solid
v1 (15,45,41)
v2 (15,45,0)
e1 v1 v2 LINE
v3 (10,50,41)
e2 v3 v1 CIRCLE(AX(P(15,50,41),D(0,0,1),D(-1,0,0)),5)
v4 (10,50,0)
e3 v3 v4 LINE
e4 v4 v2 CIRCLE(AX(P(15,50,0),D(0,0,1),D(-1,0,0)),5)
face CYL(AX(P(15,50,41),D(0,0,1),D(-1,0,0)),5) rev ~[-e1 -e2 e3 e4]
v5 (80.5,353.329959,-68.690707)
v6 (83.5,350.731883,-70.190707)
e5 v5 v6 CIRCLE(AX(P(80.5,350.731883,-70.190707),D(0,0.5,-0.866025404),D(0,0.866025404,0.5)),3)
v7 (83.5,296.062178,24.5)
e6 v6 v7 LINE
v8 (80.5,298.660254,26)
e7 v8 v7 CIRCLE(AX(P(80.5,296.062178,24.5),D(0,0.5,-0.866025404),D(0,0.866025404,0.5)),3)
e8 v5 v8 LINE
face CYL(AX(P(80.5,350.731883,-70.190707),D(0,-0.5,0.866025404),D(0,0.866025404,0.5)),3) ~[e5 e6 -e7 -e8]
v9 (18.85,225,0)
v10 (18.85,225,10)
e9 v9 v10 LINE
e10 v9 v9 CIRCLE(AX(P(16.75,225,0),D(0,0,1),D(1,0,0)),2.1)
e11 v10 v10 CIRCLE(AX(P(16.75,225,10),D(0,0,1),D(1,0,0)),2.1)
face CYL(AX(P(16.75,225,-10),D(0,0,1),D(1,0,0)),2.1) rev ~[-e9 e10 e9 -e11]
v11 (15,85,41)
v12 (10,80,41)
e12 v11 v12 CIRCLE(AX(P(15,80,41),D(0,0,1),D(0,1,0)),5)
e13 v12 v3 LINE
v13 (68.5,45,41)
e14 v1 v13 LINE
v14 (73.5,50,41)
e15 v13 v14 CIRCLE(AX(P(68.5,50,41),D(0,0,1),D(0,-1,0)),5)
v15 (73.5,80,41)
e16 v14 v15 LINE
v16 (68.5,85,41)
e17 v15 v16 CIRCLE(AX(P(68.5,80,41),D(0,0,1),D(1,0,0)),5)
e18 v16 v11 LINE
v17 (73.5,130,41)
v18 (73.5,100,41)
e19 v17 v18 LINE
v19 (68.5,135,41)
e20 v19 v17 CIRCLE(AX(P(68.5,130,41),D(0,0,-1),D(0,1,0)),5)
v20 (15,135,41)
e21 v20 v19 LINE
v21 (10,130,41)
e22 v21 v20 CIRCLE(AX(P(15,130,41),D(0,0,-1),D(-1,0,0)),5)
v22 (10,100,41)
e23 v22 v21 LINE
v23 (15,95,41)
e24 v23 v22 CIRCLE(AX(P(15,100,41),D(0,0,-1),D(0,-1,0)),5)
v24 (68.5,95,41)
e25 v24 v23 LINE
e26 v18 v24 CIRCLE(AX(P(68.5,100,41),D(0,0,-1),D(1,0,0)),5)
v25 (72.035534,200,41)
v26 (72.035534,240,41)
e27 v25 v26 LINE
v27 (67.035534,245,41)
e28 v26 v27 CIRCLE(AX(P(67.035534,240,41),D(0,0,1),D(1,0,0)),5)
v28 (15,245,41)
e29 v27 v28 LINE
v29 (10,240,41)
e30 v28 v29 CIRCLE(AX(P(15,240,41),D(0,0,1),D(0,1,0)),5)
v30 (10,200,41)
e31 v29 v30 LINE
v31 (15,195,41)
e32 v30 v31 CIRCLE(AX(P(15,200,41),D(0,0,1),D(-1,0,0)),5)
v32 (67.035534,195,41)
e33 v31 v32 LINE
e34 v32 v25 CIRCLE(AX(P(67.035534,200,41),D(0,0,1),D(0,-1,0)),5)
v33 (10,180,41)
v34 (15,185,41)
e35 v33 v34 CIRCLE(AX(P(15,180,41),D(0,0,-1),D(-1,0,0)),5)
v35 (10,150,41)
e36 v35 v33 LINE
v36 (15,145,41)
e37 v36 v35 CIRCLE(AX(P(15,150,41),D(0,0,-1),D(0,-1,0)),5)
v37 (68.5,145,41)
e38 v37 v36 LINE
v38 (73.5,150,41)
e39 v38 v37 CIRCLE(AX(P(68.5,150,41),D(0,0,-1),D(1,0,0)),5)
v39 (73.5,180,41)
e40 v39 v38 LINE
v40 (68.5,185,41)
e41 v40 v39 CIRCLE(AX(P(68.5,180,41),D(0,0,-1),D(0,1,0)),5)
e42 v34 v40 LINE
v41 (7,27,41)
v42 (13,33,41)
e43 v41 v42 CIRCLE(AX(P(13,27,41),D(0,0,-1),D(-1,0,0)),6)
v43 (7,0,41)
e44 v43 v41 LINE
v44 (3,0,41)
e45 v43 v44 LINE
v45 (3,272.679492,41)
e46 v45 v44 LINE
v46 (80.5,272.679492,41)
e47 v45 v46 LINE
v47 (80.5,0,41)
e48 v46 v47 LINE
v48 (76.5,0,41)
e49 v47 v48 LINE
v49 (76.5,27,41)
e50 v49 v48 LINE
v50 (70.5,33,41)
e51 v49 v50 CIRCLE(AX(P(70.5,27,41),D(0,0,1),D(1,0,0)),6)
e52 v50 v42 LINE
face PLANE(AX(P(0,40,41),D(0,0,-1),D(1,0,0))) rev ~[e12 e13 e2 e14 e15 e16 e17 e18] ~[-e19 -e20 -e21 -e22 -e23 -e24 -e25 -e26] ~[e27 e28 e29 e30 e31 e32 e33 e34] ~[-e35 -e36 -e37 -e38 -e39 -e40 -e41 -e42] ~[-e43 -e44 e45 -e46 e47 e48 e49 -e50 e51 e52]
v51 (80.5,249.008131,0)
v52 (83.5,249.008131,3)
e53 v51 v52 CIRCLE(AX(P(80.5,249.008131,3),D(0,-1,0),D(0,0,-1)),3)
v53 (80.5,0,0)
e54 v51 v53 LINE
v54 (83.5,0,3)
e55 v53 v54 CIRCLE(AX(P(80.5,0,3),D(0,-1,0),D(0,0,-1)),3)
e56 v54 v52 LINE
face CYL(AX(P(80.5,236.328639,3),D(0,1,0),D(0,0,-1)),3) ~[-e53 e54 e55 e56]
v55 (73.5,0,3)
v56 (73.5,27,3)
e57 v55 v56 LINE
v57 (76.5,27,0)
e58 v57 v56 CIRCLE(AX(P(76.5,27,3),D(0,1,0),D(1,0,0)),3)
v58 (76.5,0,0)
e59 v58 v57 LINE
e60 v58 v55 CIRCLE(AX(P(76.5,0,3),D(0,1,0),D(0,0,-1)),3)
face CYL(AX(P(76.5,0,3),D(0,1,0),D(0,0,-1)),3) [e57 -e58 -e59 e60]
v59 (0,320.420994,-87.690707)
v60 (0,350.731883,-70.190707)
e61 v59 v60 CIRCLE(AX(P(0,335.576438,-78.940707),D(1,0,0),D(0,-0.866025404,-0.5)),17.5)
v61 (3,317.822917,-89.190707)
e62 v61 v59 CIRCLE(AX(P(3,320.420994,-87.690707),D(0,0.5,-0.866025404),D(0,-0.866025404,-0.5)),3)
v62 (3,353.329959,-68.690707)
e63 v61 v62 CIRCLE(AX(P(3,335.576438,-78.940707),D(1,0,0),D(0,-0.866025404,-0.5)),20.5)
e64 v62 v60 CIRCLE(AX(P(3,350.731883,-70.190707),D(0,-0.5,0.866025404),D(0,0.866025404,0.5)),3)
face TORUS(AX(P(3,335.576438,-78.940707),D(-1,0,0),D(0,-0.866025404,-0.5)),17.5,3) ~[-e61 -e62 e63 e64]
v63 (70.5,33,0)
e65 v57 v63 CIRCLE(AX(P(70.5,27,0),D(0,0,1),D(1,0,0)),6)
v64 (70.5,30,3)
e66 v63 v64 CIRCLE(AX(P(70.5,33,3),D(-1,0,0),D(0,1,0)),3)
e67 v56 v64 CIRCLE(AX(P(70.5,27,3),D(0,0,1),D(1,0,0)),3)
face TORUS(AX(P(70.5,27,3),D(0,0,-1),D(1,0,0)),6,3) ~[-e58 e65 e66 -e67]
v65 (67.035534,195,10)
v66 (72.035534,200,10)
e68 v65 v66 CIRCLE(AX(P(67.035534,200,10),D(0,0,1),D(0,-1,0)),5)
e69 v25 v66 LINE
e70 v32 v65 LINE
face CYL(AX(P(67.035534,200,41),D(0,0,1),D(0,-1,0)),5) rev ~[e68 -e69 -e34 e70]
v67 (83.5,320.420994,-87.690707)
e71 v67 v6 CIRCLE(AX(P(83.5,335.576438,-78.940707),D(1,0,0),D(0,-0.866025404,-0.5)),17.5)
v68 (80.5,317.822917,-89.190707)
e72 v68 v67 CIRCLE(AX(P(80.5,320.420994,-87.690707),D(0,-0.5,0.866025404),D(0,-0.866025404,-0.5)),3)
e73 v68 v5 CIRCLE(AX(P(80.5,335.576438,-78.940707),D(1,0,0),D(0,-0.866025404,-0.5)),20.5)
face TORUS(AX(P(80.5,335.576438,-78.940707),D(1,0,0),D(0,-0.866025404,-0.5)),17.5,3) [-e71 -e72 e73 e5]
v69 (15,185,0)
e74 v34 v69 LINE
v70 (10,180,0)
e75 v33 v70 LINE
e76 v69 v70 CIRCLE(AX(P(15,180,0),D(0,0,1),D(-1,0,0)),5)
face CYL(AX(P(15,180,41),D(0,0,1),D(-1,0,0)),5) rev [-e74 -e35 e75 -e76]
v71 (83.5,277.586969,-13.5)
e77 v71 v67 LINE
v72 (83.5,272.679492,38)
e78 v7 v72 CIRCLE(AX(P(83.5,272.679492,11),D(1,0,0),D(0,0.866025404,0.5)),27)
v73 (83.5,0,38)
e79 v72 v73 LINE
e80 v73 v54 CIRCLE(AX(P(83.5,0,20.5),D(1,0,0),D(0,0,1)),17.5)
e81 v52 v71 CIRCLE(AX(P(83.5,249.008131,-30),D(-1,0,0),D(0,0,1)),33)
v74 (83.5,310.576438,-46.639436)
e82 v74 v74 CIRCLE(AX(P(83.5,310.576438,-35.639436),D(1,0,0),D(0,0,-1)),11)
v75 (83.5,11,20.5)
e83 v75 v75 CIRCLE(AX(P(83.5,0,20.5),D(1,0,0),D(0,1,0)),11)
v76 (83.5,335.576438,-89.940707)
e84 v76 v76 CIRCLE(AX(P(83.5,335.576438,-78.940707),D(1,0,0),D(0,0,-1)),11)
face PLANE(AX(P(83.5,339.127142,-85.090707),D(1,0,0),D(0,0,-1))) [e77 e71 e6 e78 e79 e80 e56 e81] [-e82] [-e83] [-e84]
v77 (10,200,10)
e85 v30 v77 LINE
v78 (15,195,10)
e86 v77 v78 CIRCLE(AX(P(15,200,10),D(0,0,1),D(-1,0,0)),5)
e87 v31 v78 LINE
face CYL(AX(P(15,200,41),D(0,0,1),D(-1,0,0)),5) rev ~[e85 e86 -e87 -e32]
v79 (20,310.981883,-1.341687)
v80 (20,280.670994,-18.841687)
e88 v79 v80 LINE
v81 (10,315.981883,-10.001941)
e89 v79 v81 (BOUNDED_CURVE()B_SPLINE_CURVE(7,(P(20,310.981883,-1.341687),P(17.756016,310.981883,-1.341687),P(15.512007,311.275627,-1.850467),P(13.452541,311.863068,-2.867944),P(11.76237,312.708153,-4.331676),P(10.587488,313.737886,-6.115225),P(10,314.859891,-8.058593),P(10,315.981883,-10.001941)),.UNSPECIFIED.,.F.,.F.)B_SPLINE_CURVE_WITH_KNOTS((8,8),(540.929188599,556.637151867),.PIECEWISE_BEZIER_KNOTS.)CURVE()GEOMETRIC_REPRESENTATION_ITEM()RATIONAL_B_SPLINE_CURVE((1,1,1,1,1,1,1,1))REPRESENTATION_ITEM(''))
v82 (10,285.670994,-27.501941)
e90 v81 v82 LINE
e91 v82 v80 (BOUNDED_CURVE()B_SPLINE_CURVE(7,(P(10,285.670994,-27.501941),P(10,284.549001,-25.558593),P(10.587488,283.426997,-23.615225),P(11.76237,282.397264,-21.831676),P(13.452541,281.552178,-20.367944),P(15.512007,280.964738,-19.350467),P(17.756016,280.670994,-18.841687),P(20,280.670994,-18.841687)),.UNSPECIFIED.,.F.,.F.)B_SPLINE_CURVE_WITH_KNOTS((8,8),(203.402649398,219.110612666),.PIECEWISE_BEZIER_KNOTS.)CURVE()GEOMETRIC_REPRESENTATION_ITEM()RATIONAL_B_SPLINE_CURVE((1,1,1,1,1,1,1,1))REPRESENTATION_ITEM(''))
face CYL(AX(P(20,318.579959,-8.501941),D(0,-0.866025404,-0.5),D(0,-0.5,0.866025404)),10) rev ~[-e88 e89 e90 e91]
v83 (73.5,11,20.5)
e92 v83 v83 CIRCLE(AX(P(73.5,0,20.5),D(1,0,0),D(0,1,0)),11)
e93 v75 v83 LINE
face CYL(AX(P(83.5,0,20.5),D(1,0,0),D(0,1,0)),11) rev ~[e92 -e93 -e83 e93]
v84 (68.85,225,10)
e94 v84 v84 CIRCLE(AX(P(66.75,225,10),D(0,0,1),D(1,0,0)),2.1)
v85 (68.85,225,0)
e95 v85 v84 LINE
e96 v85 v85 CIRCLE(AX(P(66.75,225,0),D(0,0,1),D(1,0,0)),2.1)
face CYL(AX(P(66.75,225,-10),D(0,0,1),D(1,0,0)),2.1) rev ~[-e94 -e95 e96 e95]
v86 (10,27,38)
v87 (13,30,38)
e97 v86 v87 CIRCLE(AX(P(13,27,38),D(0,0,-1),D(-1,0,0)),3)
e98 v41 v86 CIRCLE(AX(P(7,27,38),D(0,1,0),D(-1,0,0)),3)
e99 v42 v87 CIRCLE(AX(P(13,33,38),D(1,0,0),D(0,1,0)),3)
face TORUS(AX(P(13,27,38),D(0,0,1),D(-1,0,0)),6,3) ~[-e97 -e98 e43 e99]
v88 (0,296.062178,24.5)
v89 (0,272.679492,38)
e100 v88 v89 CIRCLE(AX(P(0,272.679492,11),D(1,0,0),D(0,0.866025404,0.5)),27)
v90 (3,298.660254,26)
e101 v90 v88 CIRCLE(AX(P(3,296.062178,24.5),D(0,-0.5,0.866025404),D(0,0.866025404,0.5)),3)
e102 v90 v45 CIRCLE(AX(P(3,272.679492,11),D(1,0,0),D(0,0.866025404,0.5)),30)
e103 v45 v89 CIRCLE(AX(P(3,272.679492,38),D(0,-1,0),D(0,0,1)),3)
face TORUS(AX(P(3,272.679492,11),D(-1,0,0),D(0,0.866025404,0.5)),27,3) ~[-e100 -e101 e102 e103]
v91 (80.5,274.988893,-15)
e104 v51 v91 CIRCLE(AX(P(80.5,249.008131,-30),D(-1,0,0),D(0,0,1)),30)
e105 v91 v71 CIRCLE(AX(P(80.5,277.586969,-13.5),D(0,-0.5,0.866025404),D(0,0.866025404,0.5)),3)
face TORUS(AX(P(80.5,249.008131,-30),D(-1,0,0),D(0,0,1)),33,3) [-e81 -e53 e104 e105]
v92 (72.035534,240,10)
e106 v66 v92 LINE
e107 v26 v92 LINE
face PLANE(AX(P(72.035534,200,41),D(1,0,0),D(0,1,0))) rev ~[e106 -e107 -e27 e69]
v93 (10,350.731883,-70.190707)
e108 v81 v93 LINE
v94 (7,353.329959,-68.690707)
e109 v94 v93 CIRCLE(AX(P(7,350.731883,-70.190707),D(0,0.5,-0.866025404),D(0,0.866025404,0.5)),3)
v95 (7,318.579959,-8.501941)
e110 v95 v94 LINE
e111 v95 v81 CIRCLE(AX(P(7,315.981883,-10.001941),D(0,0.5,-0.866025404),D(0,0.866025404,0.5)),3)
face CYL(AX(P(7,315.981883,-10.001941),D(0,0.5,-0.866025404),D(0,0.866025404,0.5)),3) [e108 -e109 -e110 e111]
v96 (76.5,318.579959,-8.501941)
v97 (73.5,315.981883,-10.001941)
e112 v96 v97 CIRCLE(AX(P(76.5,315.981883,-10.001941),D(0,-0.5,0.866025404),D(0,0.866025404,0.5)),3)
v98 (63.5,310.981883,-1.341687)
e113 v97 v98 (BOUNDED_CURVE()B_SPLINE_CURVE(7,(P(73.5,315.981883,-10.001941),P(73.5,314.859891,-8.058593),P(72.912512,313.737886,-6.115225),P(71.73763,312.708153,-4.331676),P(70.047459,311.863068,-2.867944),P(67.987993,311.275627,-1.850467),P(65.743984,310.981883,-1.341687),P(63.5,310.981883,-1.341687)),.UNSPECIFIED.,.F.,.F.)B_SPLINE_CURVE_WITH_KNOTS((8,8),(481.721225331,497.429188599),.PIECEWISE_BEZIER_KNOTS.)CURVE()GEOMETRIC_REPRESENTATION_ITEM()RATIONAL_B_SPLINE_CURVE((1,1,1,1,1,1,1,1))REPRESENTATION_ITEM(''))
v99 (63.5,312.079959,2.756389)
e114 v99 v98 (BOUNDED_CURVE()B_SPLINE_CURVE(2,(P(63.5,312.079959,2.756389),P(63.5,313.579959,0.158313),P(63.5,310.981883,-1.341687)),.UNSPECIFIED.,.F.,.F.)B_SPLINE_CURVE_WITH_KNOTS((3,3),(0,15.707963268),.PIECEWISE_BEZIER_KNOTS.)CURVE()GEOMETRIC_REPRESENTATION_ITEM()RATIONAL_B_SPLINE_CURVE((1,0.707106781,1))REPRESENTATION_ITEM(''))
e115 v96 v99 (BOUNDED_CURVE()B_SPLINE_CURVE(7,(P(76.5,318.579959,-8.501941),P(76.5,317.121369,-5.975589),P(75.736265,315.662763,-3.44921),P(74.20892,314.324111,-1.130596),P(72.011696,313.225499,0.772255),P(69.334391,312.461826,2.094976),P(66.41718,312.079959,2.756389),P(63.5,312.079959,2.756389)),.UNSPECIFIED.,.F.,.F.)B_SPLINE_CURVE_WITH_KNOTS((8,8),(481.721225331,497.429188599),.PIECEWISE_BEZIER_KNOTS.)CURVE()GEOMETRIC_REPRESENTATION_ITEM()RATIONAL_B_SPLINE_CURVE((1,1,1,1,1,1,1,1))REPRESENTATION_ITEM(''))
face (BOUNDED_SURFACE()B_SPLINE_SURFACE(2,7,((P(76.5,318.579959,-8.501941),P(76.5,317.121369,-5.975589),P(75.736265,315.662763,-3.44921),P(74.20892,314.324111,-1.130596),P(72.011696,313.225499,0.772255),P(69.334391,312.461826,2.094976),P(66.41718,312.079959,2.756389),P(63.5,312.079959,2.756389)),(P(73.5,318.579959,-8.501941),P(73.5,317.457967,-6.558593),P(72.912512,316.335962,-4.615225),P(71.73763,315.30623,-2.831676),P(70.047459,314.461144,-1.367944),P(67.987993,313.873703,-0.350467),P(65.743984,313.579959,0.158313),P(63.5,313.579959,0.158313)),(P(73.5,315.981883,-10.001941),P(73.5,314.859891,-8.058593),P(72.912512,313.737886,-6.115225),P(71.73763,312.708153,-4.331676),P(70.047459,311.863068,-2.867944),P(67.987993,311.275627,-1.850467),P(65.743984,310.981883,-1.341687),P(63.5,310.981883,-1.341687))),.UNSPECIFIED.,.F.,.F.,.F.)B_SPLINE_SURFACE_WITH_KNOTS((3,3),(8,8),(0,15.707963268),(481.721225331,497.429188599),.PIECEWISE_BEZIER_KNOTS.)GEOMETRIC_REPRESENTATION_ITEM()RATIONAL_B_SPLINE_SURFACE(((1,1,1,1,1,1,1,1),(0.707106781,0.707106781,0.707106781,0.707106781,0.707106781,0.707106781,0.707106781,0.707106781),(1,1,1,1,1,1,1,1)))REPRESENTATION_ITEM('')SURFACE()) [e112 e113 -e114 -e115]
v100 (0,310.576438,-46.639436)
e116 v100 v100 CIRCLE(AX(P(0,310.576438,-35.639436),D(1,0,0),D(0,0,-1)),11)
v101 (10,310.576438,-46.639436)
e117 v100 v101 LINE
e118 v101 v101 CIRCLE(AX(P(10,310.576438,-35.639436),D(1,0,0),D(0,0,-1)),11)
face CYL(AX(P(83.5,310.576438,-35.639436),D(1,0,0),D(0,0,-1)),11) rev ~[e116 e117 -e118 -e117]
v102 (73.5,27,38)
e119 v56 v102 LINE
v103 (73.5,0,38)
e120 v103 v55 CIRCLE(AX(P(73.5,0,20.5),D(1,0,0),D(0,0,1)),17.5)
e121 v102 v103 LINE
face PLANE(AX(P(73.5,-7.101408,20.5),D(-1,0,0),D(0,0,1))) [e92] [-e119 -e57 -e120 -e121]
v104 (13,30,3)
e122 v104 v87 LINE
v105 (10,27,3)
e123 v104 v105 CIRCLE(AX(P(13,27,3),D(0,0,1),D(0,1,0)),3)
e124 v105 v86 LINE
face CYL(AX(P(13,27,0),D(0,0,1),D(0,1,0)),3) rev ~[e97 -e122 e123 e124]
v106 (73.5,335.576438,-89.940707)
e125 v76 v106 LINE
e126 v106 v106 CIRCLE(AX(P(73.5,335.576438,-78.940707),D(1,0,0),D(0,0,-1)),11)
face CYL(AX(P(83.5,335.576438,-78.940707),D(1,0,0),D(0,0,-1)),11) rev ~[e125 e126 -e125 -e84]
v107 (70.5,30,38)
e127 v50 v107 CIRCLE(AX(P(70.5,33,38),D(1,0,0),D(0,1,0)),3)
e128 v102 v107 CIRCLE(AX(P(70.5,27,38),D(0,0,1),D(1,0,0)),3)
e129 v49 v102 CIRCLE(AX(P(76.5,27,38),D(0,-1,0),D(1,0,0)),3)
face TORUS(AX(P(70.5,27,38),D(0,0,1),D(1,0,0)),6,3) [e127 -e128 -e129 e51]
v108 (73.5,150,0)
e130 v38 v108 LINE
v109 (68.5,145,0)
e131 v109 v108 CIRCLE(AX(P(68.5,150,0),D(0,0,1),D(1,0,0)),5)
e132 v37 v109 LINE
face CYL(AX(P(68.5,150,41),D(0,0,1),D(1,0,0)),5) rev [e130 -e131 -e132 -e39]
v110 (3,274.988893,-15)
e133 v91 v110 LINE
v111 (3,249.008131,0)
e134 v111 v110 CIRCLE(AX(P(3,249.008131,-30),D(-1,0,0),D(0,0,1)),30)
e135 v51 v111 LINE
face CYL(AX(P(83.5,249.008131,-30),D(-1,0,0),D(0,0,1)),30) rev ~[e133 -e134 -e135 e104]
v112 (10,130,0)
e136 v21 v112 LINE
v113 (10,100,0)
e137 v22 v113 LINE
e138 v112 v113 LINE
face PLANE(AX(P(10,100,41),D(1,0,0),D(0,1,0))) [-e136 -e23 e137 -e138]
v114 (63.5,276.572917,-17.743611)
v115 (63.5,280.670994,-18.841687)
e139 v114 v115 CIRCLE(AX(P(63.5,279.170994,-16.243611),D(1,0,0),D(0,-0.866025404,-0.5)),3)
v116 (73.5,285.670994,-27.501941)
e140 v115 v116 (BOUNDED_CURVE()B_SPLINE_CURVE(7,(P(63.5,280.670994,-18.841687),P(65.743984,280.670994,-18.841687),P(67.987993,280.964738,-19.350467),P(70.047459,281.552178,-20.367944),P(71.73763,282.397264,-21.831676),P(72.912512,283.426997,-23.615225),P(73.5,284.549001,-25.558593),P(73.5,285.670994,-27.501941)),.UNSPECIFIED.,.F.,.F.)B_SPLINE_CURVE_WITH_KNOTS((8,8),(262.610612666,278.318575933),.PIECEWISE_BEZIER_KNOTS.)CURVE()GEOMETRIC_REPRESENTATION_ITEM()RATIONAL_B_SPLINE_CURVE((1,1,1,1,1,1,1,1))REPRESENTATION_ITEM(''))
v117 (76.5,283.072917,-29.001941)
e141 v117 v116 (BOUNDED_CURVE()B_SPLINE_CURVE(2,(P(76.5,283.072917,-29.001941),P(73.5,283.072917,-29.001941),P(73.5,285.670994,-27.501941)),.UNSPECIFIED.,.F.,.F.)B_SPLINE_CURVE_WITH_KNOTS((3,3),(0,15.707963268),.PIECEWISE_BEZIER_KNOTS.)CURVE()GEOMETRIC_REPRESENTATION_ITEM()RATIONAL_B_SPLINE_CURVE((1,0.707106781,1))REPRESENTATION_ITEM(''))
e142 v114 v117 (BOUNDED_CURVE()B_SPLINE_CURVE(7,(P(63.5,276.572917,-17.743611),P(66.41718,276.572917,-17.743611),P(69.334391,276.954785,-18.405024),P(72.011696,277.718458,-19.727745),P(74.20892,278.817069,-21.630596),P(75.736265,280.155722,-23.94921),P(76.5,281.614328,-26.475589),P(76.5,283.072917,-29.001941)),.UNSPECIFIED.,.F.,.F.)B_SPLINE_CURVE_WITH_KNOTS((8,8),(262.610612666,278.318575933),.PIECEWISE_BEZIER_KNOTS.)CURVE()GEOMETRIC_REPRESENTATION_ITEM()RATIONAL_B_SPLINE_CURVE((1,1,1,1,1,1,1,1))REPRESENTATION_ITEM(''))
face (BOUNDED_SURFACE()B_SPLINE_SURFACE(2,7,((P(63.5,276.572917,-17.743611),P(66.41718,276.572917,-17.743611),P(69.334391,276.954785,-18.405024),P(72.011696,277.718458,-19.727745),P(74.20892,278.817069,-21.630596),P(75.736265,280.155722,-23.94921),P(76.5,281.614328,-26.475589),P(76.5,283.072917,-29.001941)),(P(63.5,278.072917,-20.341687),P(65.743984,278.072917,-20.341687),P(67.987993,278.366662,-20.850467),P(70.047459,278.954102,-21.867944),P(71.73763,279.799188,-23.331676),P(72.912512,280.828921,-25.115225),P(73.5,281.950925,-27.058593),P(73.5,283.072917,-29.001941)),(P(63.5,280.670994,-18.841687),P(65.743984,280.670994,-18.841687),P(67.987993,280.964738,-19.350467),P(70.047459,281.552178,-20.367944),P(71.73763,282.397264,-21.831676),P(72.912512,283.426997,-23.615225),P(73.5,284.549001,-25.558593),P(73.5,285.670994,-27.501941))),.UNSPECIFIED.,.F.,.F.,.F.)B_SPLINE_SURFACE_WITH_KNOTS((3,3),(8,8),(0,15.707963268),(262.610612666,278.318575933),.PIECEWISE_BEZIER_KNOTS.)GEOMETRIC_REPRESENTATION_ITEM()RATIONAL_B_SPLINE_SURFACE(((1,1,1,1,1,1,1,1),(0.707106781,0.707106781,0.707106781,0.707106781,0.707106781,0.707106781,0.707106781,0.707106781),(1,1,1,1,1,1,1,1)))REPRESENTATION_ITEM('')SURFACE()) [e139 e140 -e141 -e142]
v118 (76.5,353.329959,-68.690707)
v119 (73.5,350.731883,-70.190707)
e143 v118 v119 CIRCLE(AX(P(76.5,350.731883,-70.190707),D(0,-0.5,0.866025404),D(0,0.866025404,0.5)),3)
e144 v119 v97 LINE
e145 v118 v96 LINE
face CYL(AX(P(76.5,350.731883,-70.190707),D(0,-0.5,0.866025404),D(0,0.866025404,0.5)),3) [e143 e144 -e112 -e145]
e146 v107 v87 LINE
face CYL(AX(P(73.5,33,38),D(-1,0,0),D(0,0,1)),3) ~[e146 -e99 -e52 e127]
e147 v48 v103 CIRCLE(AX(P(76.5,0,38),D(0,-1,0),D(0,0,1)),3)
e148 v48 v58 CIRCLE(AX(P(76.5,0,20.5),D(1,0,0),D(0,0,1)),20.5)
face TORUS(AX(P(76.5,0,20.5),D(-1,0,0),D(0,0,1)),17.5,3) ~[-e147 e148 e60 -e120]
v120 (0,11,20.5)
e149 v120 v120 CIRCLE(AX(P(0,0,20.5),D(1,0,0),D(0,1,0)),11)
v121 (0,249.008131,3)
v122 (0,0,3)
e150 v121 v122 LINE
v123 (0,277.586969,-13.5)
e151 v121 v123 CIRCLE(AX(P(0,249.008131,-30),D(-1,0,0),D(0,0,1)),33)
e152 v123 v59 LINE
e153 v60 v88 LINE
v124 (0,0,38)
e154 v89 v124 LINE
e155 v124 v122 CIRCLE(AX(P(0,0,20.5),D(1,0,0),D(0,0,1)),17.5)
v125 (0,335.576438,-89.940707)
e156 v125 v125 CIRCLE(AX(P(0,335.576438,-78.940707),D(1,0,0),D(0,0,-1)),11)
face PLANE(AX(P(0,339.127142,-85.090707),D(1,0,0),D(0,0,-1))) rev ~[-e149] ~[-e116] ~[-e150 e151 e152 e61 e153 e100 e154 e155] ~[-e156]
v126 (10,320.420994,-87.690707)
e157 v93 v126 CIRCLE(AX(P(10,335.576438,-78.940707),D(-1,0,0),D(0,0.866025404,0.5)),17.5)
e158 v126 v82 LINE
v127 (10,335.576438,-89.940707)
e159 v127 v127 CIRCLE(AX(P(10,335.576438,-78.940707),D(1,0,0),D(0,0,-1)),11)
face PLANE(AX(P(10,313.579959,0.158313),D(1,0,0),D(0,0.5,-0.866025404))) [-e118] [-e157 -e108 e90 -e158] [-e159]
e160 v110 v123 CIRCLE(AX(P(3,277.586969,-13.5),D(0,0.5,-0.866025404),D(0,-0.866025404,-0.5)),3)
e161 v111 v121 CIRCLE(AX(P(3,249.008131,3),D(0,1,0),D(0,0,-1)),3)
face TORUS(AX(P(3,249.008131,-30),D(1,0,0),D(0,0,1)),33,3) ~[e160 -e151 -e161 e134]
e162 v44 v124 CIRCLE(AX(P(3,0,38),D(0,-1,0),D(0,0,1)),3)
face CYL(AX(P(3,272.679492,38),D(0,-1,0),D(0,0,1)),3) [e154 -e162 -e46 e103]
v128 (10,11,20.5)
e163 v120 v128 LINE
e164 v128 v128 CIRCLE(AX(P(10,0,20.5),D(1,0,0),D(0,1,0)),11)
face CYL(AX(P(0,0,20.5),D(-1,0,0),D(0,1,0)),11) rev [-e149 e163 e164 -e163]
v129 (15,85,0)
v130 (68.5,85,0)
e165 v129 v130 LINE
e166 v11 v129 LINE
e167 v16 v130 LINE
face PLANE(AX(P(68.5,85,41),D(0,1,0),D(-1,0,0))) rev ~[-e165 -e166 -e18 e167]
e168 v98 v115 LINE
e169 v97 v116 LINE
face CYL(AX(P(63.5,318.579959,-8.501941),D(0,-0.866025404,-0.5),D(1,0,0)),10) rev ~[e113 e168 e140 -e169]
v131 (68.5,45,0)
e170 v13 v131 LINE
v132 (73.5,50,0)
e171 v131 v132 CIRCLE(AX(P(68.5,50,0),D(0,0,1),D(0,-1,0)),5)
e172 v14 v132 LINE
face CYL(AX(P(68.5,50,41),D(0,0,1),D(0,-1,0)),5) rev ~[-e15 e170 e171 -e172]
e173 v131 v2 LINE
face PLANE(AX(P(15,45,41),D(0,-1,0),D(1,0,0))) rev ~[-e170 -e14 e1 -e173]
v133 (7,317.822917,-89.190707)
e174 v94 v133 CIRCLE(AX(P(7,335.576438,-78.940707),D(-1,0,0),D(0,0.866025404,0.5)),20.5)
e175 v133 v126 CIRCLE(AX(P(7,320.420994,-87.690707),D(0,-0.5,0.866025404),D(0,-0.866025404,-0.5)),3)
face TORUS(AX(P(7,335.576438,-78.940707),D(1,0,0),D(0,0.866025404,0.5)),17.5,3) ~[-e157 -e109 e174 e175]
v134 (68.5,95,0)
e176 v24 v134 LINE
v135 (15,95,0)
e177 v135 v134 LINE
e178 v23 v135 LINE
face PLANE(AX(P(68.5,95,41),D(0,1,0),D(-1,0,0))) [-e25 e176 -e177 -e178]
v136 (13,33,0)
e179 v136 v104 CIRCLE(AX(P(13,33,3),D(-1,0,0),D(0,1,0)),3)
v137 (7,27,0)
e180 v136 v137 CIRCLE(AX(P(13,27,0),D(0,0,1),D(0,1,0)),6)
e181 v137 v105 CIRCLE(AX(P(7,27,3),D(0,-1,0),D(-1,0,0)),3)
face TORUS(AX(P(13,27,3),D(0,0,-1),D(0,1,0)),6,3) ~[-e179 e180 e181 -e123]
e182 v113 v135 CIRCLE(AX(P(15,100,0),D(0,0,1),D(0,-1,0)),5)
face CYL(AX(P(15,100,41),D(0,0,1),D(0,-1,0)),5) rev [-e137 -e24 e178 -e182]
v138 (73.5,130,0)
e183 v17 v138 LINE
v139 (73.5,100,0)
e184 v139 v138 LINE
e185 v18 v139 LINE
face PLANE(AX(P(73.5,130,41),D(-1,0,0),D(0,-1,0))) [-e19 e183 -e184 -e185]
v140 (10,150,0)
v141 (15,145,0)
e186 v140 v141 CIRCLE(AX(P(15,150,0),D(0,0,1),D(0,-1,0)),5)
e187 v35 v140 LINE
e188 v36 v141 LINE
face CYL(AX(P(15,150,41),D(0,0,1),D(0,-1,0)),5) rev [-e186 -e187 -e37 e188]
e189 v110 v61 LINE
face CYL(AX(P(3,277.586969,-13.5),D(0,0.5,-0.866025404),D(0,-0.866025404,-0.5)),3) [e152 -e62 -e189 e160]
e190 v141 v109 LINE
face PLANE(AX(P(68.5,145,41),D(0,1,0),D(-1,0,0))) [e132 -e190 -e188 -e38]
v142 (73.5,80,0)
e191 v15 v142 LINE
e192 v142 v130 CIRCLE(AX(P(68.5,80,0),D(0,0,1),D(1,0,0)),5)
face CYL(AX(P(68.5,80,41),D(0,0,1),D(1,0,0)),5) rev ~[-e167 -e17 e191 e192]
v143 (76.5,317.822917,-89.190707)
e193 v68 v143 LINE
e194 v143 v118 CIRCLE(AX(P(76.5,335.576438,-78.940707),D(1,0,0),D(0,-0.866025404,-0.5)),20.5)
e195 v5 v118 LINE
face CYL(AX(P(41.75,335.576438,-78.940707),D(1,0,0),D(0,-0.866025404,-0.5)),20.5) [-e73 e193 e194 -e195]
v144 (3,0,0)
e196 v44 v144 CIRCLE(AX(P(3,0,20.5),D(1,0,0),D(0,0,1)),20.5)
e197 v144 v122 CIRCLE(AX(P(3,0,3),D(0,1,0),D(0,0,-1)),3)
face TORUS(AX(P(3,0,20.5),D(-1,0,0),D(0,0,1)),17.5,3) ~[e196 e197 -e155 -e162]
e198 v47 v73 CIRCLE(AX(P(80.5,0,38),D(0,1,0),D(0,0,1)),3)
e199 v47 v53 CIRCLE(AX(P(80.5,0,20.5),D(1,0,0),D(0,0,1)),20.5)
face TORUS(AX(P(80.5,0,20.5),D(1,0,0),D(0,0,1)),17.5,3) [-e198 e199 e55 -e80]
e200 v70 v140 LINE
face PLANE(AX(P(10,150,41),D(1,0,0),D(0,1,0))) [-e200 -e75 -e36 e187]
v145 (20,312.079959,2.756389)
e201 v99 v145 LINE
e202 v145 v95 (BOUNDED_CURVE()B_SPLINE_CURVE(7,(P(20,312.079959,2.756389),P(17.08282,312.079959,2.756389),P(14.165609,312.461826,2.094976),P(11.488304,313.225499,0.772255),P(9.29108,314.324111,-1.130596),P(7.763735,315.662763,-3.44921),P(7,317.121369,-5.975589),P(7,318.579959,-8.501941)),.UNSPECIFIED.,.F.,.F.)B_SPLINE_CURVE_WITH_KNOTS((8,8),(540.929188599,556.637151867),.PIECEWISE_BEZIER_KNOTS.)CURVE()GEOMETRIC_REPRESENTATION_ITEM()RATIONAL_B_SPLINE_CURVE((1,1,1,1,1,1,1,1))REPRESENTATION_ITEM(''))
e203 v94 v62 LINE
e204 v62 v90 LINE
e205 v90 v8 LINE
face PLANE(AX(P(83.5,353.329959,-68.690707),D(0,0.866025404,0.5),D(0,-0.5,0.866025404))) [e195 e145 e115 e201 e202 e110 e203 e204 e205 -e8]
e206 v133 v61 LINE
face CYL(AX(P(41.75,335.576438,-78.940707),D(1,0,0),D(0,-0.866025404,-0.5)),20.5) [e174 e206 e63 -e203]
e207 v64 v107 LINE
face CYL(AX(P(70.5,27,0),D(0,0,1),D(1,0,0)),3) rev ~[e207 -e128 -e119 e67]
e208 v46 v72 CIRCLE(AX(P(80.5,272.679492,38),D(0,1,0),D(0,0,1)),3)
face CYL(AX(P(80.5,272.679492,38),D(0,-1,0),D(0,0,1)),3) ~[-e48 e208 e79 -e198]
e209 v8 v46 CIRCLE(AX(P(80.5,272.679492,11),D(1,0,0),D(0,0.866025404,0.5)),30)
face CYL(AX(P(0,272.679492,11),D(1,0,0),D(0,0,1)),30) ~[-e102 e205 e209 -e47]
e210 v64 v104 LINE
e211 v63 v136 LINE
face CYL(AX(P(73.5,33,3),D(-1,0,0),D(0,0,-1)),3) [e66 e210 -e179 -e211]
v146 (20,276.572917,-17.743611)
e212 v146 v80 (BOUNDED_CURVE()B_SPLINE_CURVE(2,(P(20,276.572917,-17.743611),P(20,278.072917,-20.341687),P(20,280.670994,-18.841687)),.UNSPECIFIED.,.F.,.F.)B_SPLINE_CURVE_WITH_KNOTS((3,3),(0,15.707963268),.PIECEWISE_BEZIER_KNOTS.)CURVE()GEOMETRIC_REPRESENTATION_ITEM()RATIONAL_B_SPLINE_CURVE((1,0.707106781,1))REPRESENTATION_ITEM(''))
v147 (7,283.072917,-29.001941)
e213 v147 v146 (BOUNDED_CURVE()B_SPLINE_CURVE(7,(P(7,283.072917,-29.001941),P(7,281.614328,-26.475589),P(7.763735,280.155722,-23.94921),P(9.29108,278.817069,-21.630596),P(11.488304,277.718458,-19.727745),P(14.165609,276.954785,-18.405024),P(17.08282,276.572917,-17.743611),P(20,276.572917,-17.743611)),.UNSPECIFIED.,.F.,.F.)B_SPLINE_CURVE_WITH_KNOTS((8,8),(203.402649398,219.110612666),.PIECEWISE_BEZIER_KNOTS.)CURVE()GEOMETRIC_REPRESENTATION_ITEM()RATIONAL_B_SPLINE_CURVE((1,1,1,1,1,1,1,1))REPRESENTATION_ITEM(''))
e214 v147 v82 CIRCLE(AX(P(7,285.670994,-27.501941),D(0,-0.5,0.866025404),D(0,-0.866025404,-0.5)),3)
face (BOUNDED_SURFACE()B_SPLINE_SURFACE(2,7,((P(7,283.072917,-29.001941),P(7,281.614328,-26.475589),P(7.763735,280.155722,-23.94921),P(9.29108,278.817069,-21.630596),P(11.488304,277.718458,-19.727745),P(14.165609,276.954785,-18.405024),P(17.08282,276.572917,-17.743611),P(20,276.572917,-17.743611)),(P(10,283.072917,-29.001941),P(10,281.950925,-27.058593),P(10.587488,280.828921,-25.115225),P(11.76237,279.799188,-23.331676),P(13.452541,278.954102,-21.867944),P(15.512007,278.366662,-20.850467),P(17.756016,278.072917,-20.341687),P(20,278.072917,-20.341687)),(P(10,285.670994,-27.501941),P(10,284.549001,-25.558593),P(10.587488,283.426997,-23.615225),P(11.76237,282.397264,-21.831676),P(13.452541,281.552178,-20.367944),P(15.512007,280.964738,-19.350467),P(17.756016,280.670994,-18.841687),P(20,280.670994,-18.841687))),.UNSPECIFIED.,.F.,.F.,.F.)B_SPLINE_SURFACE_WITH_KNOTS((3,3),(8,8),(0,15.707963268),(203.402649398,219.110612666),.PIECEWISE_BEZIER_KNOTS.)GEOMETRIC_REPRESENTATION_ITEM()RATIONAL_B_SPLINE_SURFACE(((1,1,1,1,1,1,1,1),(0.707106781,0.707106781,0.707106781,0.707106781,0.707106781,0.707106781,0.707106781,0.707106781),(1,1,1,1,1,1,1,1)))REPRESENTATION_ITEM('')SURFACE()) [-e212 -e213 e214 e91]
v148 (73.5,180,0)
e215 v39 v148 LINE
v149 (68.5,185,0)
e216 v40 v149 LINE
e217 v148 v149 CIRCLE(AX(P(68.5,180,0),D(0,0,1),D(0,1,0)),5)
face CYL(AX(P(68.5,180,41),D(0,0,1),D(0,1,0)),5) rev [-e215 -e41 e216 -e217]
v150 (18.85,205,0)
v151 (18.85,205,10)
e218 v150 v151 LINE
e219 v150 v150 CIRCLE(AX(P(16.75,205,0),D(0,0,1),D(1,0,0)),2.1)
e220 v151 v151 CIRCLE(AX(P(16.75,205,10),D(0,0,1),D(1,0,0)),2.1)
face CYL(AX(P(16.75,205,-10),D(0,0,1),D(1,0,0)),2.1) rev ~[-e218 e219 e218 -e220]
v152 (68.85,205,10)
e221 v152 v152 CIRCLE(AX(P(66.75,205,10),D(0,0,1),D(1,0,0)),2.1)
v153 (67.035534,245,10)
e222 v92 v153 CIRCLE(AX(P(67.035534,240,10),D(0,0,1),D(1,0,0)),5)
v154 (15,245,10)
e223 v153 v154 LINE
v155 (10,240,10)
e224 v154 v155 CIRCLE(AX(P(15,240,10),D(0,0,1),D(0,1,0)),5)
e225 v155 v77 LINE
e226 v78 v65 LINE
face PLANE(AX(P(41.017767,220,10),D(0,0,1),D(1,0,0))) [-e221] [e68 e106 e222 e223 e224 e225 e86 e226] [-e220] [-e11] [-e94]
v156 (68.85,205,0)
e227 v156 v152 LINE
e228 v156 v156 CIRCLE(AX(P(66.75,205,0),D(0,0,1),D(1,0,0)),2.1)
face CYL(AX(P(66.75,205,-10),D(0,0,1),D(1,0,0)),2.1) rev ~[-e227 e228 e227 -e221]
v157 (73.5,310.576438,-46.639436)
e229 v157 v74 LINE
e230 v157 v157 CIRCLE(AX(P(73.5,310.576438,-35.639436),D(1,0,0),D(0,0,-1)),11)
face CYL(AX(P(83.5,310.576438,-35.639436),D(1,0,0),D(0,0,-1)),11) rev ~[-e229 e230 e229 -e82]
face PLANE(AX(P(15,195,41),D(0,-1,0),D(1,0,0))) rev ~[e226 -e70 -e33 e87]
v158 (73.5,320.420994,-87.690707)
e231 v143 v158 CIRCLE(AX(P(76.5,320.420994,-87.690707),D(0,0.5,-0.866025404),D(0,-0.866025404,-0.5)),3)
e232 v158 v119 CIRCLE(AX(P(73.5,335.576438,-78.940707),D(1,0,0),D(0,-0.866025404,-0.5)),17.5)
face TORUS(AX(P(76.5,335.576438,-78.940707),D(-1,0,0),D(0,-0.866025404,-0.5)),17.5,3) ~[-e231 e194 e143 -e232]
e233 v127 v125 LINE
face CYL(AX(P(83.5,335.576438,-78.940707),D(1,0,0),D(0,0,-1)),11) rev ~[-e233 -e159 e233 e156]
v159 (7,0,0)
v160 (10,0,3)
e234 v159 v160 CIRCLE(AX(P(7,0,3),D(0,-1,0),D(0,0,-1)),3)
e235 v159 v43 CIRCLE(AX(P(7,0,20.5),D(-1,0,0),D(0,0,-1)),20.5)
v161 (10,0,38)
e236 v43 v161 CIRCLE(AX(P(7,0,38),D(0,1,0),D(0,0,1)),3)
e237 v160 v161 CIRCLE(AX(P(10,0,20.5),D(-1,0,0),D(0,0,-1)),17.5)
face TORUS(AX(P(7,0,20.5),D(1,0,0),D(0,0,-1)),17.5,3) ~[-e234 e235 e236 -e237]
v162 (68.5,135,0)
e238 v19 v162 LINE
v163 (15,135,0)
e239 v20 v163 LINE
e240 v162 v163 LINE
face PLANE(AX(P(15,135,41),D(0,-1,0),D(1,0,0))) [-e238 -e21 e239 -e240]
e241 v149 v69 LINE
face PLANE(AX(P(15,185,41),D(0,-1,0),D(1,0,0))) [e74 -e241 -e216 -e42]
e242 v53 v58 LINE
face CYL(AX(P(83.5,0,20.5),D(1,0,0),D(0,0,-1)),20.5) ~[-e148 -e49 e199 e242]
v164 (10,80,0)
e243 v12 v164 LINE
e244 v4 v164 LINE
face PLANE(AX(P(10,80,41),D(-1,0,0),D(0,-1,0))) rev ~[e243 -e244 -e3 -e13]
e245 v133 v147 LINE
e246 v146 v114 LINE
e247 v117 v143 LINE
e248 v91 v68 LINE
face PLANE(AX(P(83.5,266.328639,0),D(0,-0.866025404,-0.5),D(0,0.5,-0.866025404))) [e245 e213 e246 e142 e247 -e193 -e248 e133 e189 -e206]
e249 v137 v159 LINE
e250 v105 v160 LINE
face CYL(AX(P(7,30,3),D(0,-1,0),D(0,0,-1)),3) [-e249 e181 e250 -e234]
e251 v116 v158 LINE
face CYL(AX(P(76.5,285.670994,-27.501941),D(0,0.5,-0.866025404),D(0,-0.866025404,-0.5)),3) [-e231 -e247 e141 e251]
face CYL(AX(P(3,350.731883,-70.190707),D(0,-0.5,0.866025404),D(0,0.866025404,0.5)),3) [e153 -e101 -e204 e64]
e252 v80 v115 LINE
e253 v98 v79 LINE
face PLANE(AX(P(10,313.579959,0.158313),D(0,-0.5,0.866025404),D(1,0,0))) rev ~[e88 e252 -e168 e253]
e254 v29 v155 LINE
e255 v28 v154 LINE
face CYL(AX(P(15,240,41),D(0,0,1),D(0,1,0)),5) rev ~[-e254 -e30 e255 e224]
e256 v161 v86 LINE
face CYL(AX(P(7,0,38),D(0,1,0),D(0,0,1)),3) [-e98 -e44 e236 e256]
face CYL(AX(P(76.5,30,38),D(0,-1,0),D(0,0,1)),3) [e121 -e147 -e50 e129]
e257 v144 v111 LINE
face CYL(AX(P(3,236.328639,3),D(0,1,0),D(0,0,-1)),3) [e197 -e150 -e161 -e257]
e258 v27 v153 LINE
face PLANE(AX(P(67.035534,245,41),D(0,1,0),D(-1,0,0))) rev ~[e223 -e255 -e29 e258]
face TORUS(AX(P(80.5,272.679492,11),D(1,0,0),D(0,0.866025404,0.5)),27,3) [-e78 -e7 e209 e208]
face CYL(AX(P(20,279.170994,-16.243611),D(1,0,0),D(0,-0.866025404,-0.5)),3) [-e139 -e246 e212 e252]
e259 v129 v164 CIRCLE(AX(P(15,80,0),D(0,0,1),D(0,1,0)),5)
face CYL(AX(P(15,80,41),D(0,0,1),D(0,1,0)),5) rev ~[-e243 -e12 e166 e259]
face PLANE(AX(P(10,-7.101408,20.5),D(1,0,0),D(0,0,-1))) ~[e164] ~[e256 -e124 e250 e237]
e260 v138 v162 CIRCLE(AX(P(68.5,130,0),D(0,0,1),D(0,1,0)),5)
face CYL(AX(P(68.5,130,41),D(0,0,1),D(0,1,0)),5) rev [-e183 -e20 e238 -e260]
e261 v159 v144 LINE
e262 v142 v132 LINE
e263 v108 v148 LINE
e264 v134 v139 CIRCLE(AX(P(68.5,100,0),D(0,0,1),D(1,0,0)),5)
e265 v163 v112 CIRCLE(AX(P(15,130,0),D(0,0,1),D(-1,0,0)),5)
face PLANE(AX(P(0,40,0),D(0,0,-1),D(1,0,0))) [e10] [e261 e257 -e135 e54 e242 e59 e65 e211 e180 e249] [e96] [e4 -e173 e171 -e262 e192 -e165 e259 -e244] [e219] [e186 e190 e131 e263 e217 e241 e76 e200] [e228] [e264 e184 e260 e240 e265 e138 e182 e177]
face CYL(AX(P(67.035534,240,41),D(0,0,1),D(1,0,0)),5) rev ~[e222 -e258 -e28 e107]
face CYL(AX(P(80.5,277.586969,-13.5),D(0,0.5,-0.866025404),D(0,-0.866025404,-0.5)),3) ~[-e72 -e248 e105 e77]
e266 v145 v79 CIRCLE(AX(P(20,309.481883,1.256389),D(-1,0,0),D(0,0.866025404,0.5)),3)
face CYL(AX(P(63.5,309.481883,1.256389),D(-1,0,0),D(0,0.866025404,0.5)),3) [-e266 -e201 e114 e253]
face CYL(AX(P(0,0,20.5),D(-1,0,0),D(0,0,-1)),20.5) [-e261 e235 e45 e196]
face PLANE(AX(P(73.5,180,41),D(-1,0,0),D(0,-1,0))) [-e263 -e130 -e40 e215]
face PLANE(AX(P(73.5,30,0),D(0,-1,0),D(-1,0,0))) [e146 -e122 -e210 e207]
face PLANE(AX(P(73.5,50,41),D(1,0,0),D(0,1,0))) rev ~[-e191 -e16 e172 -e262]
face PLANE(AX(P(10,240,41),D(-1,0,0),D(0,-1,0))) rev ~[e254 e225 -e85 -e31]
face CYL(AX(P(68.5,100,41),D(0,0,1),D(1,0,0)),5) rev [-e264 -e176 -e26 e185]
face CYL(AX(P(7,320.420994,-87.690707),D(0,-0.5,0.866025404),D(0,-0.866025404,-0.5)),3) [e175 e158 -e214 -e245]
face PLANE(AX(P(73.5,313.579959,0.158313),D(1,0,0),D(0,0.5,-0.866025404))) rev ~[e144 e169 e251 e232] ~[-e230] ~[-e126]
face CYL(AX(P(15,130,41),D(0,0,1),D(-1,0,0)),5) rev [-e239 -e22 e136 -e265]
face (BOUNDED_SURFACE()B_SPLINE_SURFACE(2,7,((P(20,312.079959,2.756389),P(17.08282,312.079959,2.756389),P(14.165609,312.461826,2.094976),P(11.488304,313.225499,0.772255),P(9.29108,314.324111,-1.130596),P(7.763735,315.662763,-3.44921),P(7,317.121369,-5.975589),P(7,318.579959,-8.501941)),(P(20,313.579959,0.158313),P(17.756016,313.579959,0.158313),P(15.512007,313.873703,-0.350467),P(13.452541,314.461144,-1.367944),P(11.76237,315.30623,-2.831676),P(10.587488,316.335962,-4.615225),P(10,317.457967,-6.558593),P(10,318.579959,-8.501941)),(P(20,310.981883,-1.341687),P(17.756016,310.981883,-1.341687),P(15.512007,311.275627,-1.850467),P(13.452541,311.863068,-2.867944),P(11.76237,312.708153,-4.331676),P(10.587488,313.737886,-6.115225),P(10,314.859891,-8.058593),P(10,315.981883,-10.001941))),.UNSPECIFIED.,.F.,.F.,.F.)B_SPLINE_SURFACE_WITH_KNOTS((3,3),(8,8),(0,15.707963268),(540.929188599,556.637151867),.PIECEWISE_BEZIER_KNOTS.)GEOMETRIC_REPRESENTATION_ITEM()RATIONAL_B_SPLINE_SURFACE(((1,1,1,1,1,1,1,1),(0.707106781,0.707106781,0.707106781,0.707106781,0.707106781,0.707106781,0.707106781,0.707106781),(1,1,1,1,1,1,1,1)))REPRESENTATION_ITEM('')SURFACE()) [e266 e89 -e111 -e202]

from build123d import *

# Parameters (mm, degrees)
EXTRUDE_1_DEPTH        = 41
EXTRUDE_2_DEPTH        = 10
SKETCH_3_R             = 11
CUT_EXTRUDE_1_DEPTH    = 10
SKETCH_4_W             = 83.5
SKETCH_4_H             = 41
EXTRUDE_3_DEPTH        = 250
CUT_EXTRUDE_2_DEPTH    = 309
EXTRUDE_5_DEPTH        = 83.5
EXTRUDE_6_DEPTH        = 41.75
FILLET_1_R             = 8
SKETCH_10_R            = 5.5
CUT_EXTRUDE_3_DEPTH    = 92
EXTRUDE_9_DEPTH        = 41.75
SKETCH_15_R            = 11
CUT_EXTRUDE_5_DEPTH    = 92.5
SKETCH_16_W            = 63.5
SKETCH_16_H            = 100
CUT_EXTRUDE_6_DEPTH    = 65
FILLET_3_R             = 30
CUT_EXTRUDE_7_DEPTH    = 37.75
SKETCH_19_W            = 70.175183739
SKETCH_19_H            = 45.652615468
CUT_EXTRUDE_8_DEPTH    = 90.5
HOLE_WIZARD_M5_1_D     = 4.2
HOLE_WIZARD_M5_1_DEPTH = 10
HOLE_WIZARD_M5_1_TIP   = 1.2618073
FILLET_5_R             = 10
CUT_EXTRUDE_9_DEPTH    = 31
FILLET_6_R             = 3


with BuildPart() as part:
    # 草图1 → 凸台-拉伸1 (new body)
    with BuildSketch(Plane.XY):
        Polygon((0, 0), (0, 40), (83.5, 40), (83.5, 0), (73.5, 0), (73.5, 30), (10, 30), (10, 0), align=None)
    extrude(amount=EXTRUDE_1_DEPTH)

    # 草图2 → 凸台-拉伸2 (add)
    with BuildSketch(Plane(origin=(83.5, 0, 0), x_dir=(0, 0, -1), z_dir=(1, 0, 0))):
        with BuildLine():
            Line((-41, 0), (0, 0))
            ThreePointArc((0, 0), (-20.5, -20.5), (-41, 0))
        make_face()
    extrude_2 = extrude(amount=-EXTRUDE_2_DEPTH)

    # 草图3 → 切除-拉伸1 (cut)
    with BuildSketch(Plane(origin=(83.5, 0, 0), x_dir=(0, 0, -1), z_dir=(1, 0, 0))):
        with Locations(Location((-20.5, 0, 0), (0, 0, 90))):
            Circle(SKETCH_3_R)
    cut_extrude_1 = extrude(amount=-CUT_EXTRUDE_1_DEPTH, mode=Mode.SUBTRACT)

    # 镜向1: 凸台-拉伸2, 切除-拉伸1 across plane
    add(extrude_2.mirror(Plane(origin=(41.75, 0, 0), x_dir=(0, 0, 1), z_dir=(1, 0, 0))))
    add(cut_extrude_1.mirror(Plane(origin=(41.75, 0, 0), x_dir=(0, 0, 1), z_dir=(1, 0, 0))), mode=Mode.SUBTRACT)

    # 草图4 → 凸台-拉伸3 (add)
    with BuildSketch(Plane(origin=(0, 40, 0), x_dir=(1, 0, 0), z_dir=(0, 1, 0))):
        with Locations((41.75, -20.5)):
            Rectangle(SKETCH_4_W, SKETCH_4_H)
    extrude(amount=EXTRUDE_3_DEPTH)

    # 草图5 → 切除-拉伸2 (cut)
    with BuildSketch(Plane.XY.offset(41)):
        with BuildLine():
            Line((15, 45), (68.5, 45))
            ThreePointArc((68.5, 45), (72.035533906, 46.464466094), (73.5, 50))
            Line((73.5, 50), (73.5, 80))
            ThreePointArc((73.5, 80), (72.035533906, 83.535533906), (68.5, 85))
            Line((68.5, 85), (15, 85))
            ThreePointArc((15, 85), (11.464466094, 83.535533906), (10, 80))
            Line((10, 80), (10, 50))
            ThreePointArc((10, 50), (11.464466094, 46.464466094), (15, 45))
        make_face()
        with BuildLine():
            Line((10, 100), (10, 130))
            ThreePointArc((10, 130), (11.464466094, 133.535533906), (15, 135))
            Line((15, 135), (68.5, 135))
            ThreePointArc((68.5, 135), (72.035533906, 133.535533906), (73.5, 130))
            Line((73.5, 130), (73.5, 100))
            ThreePointArc((73.5, 100), (72.035533906, 96.464466094), (68.5, 95))
            Line((68.5, 95), (15, 95))
            ThreePointArc((15, 95), (11.464466094, 96.464466094), (10, 100))
        make_face()
        with BuildLine():
            Line((10, 150), (10, 180))
            ThreePointArc((10, 180), (11.464466094, 183.535533906), (15, 185))
            Line((15, 185), (68.5, 185))
            ThreePointArc((68.5, 185), (72.035533906, 183.535533906), (73.5, 180))
            Line((73.5, 180), (73.5, 150))
            ThreePointArc((73.5, 150), (72.035533906, 146.464466094), (68.5, 145))
            Line((68.5, 145), (15, 145))
            ThreePointArc((15, 145), (11.464466094, 146.464466094), (10, 150))
        make_face()
    extrude(amount=-CUT_EXTRUDE_2_DEPTH, mode=Mode.SUBTRACT)

    # 草图7 → 凸台-拉伸5 (add)
    with BuildSketch(Plane(origin=(83.5, 0, 0), x_dir=(0, 0, -1), z_dir=(1, 0, 0))):
        Polygon((0, 266.328638963), (89.190706587, 317.82291742), (68.690706587, 353.329958975), (-41, 290), align=None)
    extrude(amount=-EXTRUDE_5_DEPTH)

    # 草图8 → 凸台-拉伸6 (add, symmetric)
    with BuildSketch(Plane(origin=(41.75, 0, 0), x_dir=(0, 0, -1), z_dir=(1, 0, 0))):
        Polygon((0, 236.328638963), (0, 196.328638963), (55, 196.328638963), (55, 214.328638963), align=None)
    extrude(amount=EXTRUDE_6_DEPTH, both=True)

    # 圆角1
    fillet_1_edges = [part.edges().sort_by_distance(p)[0] for p in [
        (41.75, 196.328638963, -55),
    ]]
    fillet(fillet_1_edges, radius=FILLET_1_R)

    # 草图10 → 切除-拉伸3 (cut)
    with BuildSketch(Plane(origin=(83.5, 0, 0), x_dir=(0, 0, -1), z_dir=(1, 0, 0))):
        with Locations(Location((47, 204.328638963, 0), (0, 0, 90))):
            Circle(SKETCH_10_R)
    extrude(amount=-CUT_EXTRUDE_3_DEPTH, mode=Mode.SUBTRACT)

    # 草图14 → 凸台-拉伸9 (add, symmetric)
    with BuildSketch(Plane(origin=(41.75, 0, 0), x_dir=(0, 0, -1), z_dir=(1, 0, 0))):
        with BuildLine():
            Line((68.690706587, 353.329958975), (89.190706587, 317.82291742))
            ThreePointArc((89.190706587, 317.82291742), (96.694227364, 345.826438198), (68.690706587, 353.329958975))
        make_face()
    extrude(amount=EXTRUDE_9_DEPTH, both=True)

    # 草图15 → 切除-拉伸5 (cut, symmetric)
    with BuildSketch(Plane(origin=(83.5, 0, 0), x_dir=(0, 0, -1), z_dir=(1, 0, 0))):
        with Locations((78.940706587, 335.576438198)):
            Circle(SKETCH_15_R)
        with Locations((35.639436397, 310.576438198)):
            Circle(SKETCH_15_R)
    extrude(amount=CUT_EXTRUDE_5_DEPTH, both=True, mode=Mode.SUBTRACT)

    # 草图16 → 切除-拉伸6 (cut)
    with BuildSketch(Plane(origin=(0, 235.253520778, 135.823683549), x_dir=(1, 0, 0), z_dir=(0, 0.8660254037844397, 0.499999999999998))):
        with Locations((41.75, 206.652876396)):
            Rectangle(SKETCH_16_W, SKETCH_16_H)
    extrude(amount=-CUT_EXTRUDE_6_DEPTH, mode=Mode.SUBTRACT)

    # 圆角3
    fillet_3_edges = [part.edges().sort_by_distance(p)[0] for p in [
        (41.75, 266.328638963, 0),
        (41.75, 290, 41),
    ]]
    fillet(fillet_3_edges, radius=FILLET_3_R)

    # 草图8<2> → 切除-拉伸7 (cut, symmetric)
    with BuildSketch(Plane(origin=(41.75, 0, 0), x_dir=(0, 0, -1), z_dir=(1, 0, 0))):
        Polygon((0, 236.328638963), (0, 196.328638963), (55, 196.328638963), (55, 214.328638963), align=None)
    extrude(amount=CUT_EXTRUDE_7_DEPTH, both=True, mode=Mode.SUBTRACT)

    # 草图19 → 切除-拉伸8 (cut)
    with BuildSketch(Plane(origin=(83.5, 0, 0), x_dir=(0, 0, -1), z_dir=(1, 0, 0))):
        with Locations((35.08759187, 213.502331229)):
            Rectangle(SKETCH_19_W, SKETCH_19_H)
    extrude(amount=-CUT_EXTRUDE_8_DEPTH, mode=Mode.SUBTRACT)

    # M5 螺纹孔的螺纹孔钻头1
    with Locations(Plane(origin=(66.75, 225, 0), x_dir=(-1, 0, 0), z_dir=(0, 0, -1))):
        with Locations((0, 0), (50, 0), (50, -20), (0, -20)):
            Hole(HOLE_WIZARD_M5_1_D / 2, depth=HOLE_WIZARD_M5_1_DEPTH)
            with Locations((0, 0, -(HOLE_WIZARD_M5_1_DEPTH + HOLE_WIZARD_M5_1_TIP / 2))):  # 118° drill point
                Cone(0, HOLE_WIZARD_M5_1_D / 2, HOLE_WIZARD_M5_1_TIP, mode=Mode.SUBTRACT)

    # 圆角5
    fillet_5_edges = [part.edges().sort_by_distance(p)[0] for p in [
        (10, 295.826438198, -10.091686986),
        (73.5, 295.826438198, -10.091686986),
    ]]
    fillet(fillet_5_edges, radius=FILLET_5_R)

    # 草图22 → 切除-拉伸9 (cut)
    with BuildSketch(Plane.XY.offset(41)):
        with BuildLine():
            Line((15, 195), (67.035533906, 195))
            ThreePointArc((67.035533906, 195), (70.571067812, 196.464466094), (72.035533906, 200))
            Line((72.035533906, 200), (72.035533906, 240))
            ThreePointArc((72.035533906, 240), (70.571067812, 243.535533906), (67.035533906, 245))
            Line((67.035533906, 245), (15, 245))
            ThreePointArc((15, 245), (11.464466094, 243.535533906), (10, 240))
            Line((10, 240), (10, 200))
            ThreePointArc((10, 200), (11.464466094, 196.464466094), (15, 195))
        make_face()
    extrude(amount=-CUT_EXTRUDE_9_DEPTH, mode=Mode.SUBTRACT)

    # 圆角6
    fillet_6_edges = [part.edges().sort_by_distance(p)[0] for p in [
        (73.5, 15, 0),
        (41.75, 30, 0),
        (10, 15, 0),
        (41.75, 30, 41),
        (73.5, 30, 20.5),
        (10, 30, 20.5),
        (73.5, 15, 41),
        (83.5, 325.995106507, -21.345353293),
        (0, 296.405905211, -52.095353293),
        (0, 124.504065444, 0),
        (0, 345.826438198, -96.694227364),
        (83.5, 345.826438198, -96.694227364),
        (73.5, -20.5, 20.5),
        (10, 335.954958975, -38.596323805),
        (10, 345.826438198, -96.694227364),
        (73.5, 345.826438198, -96.694227364),
        (73.5, 300.44791742, -59.096323805),
        (83.5, 136.339745962, 41),
        (83.5, -20.5, 20.5),
        (83.5, 296.405905211, -52.095353293),
        (0, 325.995106507, -21.345353293),
        (83.5, 287.679491924, 36.980762114),
        (0, 136.339745962, 41),
        (0, 287.679491924, 36.980762114),
        (83.5, 264.008130888, -4.019237886),
        (0, 264.008130888, -4.019237886),
        (0, -20.5, 20.5),
        (41.75, 278.07291742, -20.341686986),
        (41.75, 313.579958975, 0.158313014),
        (10, 300.44791742, -59.096323805),
        (73.5, 335.954958975, -38.596323805),
        (12.928932188, 315.044425069, -2.378216667),
        (12.928932188, 279.537383514, -22.878216667),
        (70.571067812, 315.044425069, -2.378216667),
        (10, -20.5, 20.5),
        (70.571067812, 279.537383514, -22.878216667),
        (10, 15, 41),
        (83.5, 124.504065444, 0),
    ]]
    fillet(fillet_6_edges, radius=FILLET_6_R)


solid = part.part
